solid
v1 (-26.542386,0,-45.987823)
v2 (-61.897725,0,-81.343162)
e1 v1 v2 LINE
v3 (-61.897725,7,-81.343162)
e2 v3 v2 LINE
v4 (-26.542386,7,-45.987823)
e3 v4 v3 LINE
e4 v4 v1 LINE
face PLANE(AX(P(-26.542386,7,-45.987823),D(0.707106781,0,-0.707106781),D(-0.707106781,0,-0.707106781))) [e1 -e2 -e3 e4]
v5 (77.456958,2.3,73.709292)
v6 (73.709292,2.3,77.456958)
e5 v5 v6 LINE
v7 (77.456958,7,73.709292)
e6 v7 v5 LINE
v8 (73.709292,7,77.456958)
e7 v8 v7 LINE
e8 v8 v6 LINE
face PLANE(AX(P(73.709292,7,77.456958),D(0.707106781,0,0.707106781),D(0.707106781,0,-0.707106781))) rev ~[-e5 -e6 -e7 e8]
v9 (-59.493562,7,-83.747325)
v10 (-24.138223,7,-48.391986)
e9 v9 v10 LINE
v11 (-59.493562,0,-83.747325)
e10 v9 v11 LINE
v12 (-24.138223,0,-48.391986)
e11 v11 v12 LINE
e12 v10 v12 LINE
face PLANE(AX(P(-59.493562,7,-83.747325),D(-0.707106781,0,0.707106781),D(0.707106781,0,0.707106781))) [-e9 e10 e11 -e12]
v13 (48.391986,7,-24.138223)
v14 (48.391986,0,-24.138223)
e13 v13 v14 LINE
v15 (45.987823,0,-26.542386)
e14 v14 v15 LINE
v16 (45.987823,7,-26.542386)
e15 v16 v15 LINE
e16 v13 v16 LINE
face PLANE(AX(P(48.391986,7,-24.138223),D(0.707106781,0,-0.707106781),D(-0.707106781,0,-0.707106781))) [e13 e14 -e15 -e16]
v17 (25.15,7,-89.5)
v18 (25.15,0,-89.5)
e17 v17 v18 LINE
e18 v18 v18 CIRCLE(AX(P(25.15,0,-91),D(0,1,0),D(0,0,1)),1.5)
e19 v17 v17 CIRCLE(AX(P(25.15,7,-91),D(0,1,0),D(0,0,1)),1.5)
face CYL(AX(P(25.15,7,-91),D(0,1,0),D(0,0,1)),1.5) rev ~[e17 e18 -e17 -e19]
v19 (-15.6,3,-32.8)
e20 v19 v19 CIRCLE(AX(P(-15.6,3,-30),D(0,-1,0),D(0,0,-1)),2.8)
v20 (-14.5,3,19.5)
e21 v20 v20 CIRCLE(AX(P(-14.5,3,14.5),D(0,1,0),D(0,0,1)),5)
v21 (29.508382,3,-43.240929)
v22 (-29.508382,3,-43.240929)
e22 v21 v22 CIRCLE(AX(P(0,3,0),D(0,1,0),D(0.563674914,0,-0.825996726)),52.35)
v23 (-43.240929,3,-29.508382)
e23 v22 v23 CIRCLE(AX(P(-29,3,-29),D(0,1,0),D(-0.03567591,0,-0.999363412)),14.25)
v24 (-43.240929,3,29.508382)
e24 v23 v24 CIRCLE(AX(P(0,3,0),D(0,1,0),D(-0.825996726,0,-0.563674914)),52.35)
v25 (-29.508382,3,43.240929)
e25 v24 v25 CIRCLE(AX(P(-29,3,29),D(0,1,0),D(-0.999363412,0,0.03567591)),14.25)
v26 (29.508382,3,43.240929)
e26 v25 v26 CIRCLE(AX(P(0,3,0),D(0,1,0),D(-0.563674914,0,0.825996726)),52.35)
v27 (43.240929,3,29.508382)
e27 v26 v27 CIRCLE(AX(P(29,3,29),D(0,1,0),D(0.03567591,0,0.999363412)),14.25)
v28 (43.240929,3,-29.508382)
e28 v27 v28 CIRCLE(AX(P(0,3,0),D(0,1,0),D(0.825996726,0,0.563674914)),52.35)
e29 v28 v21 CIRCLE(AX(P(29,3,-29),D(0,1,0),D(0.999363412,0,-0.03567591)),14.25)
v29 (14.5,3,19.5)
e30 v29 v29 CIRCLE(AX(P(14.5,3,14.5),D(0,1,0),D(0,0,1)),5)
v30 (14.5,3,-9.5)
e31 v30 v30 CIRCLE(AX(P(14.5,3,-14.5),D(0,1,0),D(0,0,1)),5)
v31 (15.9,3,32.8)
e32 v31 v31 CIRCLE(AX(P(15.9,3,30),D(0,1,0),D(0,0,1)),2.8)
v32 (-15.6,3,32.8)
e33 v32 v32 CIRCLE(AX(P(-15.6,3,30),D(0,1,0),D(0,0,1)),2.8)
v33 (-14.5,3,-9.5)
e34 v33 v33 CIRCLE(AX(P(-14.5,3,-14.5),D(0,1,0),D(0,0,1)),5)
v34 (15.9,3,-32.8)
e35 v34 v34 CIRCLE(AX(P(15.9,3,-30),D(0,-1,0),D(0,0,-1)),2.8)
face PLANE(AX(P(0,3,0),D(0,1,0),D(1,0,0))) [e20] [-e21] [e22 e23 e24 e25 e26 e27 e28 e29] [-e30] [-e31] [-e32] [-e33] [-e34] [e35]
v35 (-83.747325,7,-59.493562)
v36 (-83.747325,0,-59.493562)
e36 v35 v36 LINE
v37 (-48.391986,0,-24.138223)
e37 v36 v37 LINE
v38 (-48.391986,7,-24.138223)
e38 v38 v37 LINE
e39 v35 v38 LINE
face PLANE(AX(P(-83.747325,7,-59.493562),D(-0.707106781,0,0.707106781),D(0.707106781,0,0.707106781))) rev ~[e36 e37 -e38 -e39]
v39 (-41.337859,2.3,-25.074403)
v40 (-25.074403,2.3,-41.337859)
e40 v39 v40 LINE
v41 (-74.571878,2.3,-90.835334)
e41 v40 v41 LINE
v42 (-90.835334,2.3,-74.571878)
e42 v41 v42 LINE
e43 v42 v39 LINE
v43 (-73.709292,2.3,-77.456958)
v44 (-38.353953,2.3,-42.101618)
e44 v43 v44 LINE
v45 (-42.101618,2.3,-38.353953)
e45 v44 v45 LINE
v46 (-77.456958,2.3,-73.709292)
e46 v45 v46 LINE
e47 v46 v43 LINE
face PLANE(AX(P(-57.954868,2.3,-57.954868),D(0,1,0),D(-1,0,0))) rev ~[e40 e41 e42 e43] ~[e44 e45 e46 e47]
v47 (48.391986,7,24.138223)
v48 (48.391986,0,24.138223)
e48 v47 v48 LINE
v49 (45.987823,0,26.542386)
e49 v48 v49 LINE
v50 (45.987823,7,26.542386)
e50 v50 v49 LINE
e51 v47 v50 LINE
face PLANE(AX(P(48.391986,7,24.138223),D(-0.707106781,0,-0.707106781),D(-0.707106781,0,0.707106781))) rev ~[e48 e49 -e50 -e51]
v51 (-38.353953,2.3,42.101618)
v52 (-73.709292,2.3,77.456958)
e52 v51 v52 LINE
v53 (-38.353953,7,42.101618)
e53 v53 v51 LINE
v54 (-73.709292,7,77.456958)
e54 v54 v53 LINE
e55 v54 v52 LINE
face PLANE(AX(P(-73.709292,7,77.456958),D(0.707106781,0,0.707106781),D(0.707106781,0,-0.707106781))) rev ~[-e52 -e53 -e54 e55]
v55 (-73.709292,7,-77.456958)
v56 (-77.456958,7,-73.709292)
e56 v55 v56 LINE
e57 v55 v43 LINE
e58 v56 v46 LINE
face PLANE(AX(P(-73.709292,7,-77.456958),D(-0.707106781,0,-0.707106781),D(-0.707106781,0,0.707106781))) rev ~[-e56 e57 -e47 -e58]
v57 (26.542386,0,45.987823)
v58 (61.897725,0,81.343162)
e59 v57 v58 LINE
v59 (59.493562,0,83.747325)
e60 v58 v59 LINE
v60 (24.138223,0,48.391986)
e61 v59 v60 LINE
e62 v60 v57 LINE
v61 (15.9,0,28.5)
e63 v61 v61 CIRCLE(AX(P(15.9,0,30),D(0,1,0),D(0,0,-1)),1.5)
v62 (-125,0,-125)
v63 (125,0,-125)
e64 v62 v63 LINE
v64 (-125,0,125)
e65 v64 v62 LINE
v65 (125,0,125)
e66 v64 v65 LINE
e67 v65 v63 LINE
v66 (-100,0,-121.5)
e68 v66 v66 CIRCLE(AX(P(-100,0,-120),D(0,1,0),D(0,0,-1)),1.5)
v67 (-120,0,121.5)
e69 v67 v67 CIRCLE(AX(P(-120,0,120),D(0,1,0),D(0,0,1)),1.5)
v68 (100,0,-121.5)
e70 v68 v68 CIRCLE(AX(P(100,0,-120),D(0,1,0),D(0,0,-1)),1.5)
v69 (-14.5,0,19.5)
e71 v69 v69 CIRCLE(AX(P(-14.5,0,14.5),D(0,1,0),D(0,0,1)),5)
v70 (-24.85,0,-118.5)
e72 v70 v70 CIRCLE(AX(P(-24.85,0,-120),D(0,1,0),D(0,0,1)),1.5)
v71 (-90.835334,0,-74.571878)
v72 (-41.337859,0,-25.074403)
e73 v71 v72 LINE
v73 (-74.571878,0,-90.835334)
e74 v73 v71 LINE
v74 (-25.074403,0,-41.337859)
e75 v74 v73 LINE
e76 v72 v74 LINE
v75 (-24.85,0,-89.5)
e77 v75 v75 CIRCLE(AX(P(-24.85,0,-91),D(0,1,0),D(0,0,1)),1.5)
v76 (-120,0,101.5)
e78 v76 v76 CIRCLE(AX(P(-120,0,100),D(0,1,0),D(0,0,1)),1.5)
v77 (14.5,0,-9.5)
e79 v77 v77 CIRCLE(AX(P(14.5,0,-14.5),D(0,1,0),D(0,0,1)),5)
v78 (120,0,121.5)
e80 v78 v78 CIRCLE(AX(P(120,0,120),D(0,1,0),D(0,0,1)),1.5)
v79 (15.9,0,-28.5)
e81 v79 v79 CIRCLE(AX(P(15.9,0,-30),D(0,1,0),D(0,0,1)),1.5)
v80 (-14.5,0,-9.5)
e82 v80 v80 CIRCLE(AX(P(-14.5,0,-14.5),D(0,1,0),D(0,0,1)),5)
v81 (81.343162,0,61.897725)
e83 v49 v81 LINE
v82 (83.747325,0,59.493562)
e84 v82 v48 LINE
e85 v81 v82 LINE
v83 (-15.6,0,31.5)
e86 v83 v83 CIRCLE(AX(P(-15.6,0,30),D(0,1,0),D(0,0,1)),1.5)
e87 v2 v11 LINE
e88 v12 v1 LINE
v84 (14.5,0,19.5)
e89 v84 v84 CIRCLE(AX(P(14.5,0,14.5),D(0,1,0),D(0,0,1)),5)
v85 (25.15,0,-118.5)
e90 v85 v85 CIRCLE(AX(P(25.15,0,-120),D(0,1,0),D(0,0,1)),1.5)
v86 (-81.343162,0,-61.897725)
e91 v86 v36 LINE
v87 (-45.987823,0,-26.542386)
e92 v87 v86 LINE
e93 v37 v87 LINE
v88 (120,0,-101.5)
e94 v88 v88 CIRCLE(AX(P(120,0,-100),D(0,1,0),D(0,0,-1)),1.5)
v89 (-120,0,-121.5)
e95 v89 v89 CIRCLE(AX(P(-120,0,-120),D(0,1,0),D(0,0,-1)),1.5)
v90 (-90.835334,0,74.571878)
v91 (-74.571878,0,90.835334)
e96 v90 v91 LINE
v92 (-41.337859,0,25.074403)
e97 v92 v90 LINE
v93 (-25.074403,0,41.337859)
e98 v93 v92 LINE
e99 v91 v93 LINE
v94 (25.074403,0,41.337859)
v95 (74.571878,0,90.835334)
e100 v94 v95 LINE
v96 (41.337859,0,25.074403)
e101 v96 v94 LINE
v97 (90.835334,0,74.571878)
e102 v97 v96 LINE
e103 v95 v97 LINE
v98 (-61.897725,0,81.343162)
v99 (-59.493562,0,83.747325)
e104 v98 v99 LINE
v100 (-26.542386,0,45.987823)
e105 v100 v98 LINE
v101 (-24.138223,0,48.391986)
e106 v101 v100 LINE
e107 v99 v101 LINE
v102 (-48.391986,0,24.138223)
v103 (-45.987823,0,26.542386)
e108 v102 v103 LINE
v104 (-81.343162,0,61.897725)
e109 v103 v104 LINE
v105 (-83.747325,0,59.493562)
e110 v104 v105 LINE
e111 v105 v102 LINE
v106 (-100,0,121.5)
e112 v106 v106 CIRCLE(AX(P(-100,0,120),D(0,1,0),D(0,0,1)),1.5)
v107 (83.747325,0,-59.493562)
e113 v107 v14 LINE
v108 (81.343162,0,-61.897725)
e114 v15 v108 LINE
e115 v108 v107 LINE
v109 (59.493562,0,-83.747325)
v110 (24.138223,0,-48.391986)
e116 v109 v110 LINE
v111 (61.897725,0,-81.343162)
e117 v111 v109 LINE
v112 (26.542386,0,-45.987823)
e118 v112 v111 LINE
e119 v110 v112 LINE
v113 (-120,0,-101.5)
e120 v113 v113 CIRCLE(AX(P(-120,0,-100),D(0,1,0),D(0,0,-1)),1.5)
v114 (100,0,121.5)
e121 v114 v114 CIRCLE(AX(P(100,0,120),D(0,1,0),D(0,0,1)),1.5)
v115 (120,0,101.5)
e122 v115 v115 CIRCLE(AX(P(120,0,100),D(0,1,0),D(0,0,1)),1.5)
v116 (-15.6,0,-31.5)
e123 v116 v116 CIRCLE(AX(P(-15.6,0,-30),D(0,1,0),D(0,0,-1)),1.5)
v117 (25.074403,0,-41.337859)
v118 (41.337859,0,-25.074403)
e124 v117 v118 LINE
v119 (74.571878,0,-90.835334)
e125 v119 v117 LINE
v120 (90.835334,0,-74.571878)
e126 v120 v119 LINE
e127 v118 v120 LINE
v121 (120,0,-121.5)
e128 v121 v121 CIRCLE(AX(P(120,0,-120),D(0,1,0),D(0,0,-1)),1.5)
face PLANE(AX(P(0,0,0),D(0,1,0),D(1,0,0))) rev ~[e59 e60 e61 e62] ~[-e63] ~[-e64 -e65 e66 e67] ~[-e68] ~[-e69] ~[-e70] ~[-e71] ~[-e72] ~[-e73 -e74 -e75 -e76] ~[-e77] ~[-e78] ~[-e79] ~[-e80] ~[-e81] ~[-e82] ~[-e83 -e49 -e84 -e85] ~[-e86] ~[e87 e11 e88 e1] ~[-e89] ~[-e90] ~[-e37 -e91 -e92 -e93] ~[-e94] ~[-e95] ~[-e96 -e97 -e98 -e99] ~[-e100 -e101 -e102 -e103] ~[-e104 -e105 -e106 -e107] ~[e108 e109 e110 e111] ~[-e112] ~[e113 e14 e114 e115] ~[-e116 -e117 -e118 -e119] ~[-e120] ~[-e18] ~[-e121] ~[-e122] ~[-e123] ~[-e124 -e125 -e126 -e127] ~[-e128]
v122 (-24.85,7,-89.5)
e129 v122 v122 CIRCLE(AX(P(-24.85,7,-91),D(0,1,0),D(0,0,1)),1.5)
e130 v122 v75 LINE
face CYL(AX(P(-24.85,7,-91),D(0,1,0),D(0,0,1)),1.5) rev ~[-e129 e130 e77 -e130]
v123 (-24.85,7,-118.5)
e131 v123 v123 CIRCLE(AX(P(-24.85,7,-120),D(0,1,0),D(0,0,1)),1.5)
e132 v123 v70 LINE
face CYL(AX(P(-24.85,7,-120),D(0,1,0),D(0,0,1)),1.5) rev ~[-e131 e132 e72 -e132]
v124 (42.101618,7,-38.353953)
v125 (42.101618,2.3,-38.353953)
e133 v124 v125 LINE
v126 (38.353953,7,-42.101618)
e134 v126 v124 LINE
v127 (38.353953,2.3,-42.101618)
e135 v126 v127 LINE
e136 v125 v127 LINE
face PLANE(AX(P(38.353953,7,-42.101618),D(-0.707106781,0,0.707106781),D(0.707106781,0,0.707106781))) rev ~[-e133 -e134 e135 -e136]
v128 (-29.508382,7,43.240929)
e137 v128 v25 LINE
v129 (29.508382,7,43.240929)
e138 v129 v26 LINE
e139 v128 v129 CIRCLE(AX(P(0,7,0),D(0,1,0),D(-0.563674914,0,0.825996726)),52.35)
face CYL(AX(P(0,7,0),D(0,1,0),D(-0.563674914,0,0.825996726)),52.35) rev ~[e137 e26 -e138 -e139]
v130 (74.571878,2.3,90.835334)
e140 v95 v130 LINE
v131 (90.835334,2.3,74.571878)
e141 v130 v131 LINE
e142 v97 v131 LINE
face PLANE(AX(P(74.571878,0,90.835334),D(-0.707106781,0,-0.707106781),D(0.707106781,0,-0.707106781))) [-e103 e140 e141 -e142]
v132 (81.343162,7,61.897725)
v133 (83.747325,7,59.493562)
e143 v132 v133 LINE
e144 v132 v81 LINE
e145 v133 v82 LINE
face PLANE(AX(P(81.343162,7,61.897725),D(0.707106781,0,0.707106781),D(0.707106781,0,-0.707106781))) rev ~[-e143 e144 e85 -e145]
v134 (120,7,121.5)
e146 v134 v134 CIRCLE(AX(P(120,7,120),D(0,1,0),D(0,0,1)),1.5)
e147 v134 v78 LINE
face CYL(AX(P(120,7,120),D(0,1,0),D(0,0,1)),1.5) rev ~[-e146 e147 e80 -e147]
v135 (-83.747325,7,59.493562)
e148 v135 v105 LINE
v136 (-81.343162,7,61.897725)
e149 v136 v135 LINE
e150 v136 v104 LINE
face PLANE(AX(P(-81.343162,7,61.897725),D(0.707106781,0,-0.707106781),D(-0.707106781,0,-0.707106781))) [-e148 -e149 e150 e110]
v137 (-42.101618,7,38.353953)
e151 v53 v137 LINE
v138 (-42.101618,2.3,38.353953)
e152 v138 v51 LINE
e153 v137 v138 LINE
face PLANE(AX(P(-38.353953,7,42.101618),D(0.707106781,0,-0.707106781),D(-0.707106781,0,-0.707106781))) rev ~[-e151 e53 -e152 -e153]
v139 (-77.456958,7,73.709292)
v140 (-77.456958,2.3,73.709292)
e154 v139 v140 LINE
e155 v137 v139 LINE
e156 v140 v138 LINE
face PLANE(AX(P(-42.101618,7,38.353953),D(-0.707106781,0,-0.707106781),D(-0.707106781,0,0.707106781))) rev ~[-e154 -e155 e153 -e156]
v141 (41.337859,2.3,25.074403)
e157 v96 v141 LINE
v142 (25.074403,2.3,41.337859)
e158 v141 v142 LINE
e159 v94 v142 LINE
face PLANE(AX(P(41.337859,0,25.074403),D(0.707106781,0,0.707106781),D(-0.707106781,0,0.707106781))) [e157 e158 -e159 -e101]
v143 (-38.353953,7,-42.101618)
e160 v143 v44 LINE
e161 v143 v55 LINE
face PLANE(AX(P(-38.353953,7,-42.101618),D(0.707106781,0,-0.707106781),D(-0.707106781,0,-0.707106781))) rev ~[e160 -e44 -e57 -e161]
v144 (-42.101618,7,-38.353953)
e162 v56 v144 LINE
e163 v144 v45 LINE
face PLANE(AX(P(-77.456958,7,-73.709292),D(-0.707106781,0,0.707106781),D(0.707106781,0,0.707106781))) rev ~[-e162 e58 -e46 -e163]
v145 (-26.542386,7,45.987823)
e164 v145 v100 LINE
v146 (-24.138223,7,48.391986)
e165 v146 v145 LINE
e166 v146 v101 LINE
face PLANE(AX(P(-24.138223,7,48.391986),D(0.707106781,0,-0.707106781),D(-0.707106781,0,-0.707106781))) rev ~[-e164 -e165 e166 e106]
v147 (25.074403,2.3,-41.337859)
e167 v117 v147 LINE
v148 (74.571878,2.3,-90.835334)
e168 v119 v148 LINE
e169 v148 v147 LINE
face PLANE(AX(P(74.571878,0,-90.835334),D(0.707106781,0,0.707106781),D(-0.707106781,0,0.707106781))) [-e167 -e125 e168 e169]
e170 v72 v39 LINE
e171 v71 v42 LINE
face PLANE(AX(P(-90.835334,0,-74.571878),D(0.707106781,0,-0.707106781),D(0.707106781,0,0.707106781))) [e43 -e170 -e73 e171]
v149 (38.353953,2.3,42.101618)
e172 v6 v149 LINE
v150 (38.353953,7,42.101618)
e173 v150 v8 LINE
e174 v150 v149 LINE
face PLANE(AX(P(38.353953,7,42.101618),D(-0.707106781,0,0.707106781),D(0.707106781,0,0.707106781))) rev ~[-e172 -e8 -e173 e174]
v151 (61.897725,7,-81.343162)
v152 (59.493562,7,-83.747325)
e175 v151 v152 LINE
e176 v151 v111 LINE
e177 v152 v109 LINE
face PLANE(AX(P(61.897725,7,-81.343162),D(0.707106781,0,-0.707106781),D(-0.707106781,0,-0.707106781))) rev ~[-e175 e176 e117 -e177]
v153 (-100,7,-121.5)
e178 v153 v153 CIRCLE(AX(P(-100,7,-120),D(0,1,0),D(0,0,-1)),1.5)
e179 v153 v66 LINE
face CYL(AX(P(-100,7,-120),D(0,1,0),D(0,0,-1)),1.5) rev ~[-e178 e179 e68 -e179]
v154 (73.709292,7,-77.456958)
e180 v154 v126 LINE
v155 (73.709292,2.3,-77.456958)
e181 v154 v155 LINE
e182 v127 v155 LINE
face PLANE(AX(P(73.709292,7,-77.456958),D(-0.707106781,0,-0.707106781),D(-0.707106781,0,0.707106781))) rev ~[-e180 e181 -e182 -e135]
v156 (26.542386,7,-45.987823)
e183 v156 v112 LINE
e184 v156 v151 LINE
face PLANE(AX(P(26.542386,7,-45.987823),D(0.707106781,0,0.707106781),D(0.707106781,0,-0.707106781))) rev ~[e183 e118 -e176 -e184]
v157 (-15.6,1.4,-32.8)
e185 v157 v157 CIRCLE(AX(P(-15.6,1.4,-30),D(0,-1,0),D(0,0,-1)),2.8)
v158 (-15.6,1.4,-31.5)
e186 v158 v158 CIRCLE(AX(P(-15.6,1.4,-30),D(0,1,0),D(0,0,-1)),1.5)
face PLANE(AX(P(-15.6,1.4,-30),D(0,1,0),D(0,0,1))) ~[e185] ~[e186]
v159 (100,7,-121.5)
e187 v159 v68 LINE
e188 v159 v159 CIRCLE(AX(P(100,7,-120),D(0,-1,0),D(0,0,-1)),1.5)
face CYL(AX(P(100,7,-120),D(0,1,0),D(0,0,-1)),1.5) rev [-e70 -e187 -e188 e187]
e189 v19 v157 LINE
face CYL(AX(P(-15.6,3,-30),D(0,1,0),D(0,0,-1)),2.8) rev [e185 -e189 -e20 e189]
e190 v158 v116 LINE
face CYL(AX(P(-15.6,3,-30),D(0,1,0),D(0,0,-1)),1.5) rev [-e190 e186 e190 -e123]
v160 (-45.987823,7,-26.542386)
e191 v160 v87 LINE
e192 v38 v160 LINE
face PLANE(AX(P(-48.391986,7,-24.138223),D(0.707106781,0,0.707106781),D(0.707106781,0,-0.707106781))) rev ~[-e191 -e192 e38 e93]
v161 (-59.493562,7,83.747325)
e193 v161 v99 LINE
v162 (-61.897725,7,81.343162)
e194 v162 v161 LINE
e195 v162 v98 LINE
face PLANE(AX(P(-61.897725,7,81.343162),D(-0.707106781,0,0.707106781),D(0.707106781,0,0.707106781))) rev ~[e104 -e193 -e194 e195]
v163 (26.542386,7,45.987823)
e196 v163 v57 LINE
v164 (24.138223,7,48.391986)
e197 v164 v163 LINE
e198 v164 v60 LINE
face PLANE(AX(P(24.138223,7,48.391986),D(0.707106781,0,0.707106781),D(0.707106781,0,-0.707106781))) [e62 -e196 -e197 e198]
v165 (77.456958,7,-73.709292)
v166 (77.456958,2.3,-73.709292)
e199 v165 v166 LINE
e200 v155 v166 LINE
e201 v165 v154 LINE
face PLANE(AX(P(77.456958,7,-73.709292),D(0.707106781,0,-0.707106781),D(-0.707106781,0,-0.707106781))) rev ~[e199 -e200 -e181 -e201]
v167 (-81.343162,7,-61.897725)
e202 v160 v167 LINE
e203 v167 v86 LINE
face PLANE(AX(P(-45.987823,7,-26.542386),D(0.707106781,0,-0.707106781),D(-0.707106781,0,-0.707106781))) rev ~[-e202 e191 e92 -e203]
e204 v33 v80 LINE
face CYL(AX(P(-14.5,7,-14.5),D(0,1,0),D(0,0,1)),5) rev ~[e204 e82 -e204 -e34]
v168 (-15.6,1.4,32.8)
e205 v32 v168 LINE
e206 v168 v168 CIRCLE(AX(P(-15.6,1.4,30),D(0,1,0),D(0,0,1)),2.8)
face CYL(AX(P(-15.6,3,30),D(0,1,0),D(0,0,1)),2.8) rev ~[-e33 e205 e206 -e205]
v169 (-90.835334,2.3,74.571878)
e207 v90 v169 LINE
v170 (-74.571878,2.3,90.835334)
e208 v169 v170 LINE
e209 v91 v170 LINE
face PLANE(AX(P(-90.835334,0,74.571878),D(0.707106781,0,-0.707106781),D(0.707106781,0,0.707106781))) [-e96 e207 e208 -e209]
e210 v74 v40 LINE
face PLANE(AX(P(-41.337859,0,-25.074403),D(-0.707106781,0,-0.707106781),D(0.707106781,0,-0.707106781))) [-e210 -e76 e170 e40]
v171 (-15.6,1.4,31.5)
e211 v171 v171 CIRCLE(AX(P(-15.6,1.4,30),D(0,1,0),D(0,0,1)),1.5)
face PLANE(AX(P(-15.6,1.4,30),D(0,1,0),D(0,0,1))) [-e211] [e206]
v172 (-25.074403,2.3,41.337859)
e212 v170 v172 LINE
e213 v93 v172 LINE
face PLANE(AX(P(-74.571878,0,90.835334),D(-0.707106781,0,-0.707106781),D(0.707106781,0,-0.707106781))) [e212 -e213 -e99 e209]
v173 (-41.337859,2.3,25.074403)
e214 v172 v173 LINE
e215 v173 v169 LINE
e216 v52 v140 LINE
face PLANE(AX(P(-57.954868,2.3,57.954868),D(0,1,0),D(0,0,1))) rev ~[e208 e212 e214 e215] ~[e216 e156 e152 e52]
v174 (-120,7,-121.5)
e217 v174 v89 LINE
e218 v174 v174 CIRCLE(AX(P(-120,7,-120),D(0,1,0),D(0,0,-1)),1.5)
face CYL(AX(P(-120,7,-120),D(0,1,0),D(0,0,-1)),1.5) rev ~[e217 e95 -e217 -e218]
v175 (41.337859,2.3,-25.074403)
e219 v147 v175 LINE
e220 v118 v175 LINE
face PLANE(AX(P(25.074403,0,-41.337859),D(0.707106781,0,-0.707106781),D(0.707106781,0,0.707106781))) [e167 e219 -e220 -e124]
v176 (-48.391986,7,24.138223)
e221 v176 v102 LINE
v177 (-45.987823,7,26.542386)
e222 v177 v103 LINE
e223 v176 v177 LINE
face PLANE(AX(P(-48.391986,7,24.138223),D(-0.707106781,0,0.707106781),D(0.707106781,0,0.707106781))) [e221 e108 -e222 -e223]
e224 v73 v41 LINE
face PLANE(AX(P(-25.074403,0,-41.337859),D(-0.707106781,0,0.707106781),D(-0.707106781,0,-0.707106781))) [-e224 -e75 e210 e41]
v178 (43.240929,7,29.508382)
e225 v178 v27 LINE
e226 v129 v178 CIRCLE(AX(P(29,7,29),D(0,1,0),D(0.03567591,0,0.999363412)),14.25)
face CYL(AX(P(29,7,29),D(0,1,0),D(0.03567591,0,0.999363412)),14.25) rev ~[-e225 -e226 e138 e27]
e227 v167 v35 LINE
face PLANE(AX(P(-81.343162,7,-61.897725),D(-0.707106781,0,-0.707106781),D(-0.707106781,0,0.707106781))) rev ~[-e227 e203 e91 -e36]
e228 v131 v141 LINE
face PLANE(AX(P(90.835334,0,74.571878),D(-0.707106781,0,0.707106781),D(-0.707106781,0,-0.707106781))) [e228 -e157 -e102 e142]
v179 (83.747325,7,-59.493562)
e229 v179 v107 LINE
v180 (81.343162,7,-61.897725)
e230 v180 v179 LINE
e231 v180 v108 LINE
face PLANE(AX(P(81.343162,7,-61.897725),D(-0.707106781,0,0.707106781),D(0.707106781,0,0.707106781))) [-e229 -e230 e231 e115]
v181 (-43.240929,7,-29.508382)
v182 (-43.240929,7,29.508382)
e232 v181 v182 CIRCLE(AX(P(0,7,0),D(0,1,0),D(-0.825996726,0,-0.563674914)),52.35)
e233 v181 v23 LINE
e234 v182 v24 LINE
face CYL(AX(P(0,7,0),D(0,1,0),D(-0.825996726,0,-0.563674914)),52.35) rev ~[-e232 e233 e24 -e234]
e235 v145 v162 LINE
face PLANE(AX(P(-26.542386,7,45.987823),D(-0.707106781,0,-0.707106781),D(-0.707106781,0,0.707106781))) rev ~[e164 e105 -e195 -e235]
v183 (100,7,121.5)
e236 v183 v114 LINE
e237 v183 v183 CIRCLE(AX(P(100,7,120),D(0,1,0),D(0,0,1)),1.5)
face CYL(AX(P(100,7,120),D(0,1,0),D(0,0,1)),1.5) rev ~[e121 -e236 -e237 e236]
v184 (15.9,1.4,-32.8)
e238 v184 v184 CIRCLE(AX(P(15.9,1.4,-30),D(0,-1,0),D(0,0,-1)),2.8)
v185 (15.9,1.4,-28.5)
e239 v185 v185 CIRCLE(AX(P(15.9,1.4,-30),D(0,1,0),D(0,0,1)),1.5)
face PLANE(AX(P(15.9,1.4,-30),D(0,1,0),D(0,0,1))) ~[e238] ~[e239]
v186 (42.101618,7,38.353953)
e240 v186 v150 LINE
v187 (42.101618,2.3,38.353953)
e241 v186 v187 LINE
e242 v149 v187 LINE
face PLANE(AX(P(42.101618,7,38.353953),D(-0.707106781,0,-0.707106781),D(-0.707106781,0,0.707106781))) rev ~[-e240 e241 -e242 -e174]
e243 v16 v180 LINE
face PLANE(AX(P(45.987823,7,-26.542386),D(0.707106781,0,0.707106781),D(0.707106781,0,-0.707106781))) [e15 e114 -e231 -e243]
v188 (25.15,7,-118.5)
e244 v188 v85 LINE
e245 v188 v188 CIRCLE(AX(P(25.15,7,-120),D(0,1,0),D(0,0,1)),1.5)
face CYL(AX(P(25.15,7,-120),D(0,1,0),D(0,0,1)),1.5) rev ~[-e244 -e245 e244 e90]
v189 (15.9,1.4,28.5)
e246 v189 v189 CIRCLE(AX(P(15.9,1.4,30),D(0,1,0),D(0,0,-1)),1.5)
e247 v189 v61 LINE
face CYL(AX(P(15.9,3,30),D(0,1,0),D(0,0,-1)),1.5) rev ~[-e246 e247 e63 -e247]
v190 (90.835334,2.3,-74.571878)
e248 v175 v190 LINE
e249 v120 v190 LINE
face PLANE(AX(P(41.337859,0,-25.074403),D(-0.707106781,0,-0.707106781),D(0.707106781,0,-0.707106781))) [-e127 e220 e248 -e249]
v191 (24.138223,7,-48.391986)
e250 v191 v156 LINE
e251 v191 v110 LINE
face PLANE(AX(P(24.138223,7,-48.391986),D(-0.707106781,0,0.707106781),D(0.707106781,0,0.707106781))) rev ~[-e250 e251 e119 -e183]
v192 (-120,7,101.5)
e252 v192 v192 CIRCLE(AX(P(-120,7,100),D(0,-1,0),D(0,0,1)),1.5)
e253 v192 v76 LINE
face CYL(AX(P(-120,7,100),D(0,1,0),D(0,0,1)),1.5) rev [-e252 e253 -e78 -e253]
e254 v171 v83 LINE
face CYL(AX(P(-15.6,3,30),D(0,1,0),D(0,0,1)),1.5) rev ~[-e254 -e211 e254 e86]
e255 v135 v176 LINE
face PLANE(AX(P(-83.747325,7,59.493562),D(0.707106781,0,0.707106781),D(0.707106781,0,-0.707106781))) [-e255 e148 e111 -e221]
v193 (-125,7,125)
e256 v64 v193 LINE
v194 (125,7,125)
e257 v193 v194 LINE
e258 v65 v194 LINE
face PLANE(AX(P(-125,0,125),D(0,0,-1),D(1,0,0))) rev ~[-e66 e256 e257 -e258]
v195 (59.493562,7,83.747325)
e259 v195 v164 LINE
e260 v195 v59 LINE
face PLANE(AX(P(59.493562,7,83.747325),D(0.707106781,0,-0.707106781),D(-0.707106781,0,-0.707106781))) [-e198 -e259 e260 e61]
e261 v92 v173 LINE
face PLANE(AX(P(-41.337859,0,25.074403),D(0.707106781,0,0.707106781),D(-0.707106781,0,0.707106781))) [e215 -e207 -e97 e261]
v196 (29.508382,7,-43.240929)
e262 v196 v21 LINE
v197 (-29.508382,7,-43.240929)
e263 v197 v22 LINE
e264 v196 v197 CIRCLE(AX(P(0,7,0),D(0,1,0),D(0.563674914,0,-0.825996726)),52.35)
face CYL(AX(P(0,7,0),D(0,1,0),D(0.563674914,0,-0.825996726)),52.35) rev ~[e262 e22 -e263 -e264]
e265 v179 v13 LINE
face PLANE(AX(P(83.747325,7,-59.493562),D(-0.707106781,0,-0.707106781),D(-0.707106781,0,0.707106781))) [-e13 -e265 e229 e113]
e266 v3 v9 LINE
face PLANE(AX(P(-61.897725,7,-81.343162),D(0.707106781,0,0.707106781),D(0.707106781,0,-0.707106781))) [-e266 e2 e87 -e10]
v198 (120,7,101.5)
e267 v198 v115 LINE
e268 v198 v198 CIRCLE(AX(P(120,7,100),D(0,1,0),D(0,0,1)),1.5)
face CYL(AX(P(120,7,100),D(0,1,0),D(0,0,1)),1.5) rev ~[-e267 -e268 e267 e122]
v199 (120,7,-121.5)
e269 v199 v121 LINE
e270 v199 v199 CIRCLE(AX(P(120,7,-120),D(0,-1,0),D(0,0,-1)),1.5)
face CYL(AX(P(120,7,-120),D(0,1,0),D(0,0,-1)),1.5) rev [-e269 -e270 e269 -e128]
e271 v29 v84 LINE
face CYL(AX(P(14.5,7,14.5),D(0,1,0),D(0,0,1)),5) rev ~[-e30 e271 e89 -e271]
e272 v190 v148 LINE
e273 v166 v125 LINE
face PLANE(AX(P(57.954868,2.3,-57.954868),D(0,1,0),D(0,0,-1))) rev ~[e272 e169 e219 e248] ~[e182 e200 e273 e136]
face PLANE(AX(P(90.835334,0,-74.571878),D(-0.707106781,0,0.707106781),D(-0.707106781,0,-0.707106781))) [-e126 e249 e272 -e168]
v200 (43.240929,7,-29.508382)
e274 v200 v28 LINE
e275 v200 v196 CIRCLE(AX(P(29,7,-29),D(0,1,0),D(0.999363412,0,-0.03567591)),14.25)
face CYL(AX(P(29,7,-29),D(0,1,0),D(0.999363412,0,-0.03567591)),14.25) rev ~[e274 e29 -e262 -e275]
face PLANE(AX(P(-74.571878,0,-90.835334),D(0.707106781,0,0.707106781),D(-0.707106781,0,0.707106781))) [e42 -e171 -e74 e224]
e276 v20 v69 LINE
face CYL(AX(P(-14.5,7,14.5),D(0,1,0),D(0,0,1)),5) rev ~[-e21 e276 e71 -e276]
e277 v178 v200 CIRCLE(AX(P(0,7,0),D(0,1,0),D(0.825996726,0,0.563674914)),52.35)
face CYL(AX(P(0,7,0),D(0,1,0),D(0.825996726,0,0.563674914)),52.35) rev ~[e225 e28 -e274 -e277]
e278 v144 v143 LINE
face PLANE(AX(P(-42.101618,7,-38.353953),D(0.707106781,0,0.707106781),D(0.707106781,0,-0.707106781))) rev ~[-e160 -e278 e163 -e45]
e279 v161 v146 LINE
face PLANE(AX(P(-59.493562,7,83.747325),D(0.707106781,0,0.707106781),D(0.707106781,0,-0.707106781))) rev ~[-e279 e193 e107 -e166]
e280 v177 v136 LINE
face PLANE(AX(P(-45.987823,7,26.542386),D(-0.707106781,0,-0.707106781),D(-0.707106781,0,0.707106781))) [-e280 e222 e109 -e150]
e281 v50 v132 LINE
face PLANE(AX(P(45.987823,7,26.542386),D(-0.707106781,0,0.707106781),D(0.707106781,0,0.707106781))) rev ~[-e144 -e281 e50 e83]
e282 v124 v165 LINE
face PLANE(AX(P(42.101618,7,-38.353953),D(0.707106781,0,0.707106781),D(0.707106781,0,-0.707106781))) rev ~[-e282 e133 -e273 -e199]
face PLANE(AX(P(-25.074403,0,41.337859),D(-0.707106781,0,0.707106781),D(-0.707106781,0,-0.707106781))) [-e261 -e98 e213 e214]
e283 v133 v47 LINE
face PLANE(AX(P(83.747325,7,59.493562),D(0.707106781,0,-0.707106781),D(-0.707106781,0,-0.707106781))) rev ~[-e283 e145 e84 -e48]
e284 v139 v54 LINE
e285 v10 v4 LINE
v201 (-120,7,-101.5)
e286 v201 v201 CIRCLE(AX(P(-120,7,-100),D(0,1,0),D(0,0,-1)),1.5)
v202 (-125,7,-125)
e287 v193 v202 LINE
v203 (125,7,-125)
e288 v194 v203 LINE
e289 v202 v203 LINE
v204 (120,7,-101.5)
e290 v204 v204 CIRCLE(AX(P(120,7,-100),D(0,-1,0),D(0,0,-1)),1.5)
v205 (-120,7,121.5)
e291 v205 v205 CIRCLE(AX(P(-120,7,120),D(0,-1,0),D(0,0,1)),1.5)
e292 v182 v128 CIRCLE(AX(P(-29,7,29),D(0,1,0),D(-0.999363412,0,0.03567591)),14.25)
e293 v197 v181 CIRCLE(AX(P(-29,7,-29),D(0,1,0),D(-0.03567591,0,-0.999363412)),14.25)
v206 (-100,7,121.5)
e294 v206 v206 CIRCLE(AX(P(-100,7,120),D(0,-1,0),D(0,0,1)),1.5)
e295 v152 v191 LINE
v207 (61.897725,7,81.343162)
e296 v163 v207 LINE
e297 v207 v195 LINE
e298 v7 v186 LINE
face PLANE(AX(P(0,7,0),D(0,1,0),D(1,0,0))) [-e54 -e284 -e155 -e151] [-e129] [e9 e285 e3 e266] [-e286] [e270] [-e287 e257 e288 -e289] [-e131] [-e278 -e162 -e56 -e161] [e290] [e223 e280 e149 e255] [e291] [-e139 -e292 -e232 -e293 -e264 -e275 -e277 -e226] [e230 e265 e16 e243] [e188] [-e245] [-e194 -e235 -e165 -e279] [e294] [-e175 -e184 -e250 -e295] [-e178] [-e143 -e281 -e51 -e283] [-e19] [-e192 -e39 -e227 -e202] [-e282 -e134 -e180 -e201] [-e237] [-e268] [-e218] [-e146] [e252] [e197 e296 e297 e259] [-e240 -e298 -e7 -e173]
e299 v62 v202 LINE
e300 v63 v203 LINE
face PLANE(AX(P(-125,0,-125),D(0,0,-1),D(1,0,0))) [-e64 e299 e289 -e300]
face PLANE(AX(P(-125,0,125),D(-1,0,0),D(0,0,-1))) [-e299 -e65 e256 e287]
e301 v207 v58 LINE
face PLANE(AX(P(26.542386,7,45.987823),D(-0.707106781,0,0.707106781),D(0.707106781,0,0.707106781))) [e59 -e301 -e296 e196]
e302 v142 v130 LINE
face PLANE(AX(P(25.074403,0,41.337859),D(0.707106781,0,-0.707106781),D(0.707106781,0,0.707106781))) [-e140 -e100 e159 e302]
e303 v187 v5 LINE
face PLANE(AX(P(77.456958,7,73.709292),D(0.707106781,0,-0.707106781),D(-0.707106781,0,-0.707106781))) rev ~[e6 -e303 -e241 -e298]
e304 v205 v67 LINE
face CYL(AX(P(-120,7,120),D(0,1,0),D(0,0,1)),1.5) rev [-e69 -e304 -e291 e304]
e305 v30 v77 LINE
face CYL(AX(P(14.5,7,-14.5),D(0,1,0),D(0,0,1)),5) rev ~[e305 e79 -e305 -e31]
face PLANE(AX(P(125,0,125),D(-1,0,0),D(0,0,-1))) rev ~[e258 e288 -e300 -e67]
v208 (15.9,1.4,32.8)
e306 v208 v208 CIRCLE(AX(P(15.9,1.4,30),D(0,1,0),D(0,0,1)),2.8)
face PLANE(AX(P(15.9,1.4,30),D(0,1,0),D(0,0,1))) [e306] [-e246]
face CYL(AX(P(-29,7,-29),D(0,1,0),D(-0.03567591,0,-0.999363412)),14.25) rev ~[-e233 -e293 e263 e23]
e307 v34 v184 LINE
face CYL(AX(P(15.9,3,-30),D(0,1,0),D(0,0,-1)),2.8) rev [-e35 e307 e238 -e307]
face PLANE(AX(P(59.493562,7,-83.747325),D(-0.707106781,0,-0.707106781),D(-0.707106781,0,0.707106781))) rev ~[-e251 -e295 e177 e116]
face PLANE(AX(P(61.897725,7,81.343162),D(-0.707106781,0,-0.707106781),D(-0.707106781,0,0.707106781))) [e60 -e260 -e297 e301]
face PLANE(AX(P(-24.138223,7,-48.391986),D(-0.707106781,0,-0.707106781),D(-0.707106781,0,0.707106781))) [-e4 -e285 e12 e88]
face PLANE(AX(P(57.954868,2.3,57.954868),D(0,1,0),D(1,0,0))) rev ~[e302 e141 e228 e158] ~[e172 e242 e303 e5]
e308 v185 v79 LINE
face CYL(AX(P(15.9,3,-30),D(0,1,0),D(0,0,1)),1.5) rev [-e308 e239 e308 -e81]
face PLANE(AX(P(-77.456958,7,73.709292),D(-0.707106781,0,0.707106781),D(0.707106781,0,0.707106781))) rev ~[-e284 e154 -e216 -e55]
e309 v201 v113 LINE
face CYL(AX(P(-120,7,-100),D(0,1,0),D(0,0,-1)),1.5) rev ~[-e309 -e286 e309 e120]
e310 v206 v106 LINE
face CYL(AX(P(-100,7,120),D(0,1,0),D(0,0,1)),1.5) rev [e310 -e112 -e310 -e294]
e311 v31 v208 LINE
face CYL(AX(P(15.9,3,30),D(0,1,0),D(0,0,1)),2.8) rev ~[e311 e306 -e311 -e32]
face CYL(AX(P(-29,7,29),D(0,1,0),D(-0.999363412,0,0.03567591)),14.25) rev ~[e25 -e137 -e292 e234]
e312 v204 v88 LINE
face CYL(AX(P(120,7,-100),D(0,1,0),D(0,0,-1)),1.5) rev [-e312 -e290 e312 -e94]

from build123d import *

# Parameters (mm, degrees)
SKETCH1_W               = 250
SKETCH1_H               = 250
BOSS_EXTRUDE1_DEPTH     = 7
CUT_EXTRUDE2_DEPTH      = 4
CUT_EXTRUDE3_DEPTH      = 177.91523394
CUT_EXTRUDE4_DEPTH      = 177.91523394
CUT_EXTRUDE5_DEPTH      = 2.3
CIRPATTERN1_COUNT       = 4
SKETCH8_R               = 5
CUT_EXTRUDE6_DEPTH      = 177.91523394
SKETCH9_R               = 1.5
CUT_EXTRUDE7_DEPTH      = 177.821944339
SKETCH10_R              = 2.8
CUT_EXTRUDE8_DEPTH      = 1.6
SKETCH13_R              = 1.5
CUT_EXTRUDE11_DEPTH     = 177.91523394
LPATTERN1_COUNT         = 2
LPATTERN1_PITCH         = 50
LPATTERN1_COUNT_DIR2    = 2
LPATTERN1_PITCH_DIR2    = 29
SKETCH14_R              = 1.5
CUT_EXTRUDE12_DEPTH     = 10
MIRROR3_COPY_1_SKETCH_R = 1.5
MIRROR3_COPY_1_DEPTH    = 10


with BuildPart() as part:
    # Sketch1 → Boss-Extrude1 (new body)
    with BuildSketch(Plane(origin=(0, 0, 0), x_dir=(1, 0, 0), z_dir=(0, 1, 0))):
        Rectangle(SKETCH1_W, SKETCH1_H)
    extrude(amount=BOSS_EXTRUDE1_DEPTH)

    # Sketch4 → Cut-Extrude2 (cut)
    with BuildSketch(Plane(origin=(0, 7, 0), x_dir=(1, 0, 0), z_dir=(0, 1, 0))):
        with BuildLine():
            ThreePointArc((-29.508381723, 43.240928622), (-39.076271632, 39.076271632), (-43.240928622, 29.508381723))
            ThreePointArc((-43.240928622, 29.508381723), (-52.35, 0), (-43.240928622, -29.508381723))
            ThreePointArc((-43.240928622, -29.508381723), (-39.076271632, -39.076271632), (-29.508381723, -43.240928622))
            ThreePointArc((-29.508381723, -43.240928622), (0, -52.35), (29.508381723, -43.240928622))
            ThreePointArc((29.508381723, -43.240928622), (39.076271632, -39.076271632), (43.240928622, -29.508381723))
            ThreePointArc((43.240928622, -29.508381723), (52.35, 0), (43.240928622, 29.508381723))
            ThreePointArc((43.240928622, 29.508381723), (39.076271632, 39.076271632), (29.508381723, 43.240928622))
            ThreePointArc((29.508381723, 43.240928622), (0, 52.35), (-29.508381723, 43.240928622))
        make_face()
    extrude(amount=-CUT_EXTRUDE2_DEPTH, mode=Mode.SUBTRACT)

    # Sketch5 → Cut-Extrude3 (cut, through all)
    with BuildSketch(Plane(origin=(0, 7, 0), x_dir=(1, 0, 0), z_dir=(0, 1, 0))):
        Polygon((-40.2277855, 40.2277855), (-38.35395253, 42.10161847), (-73.709291589, 77.456957529), (-77.456957529, 73.709291589), (-42.10161847, 38.35395253), align=None)
    cut_extrude3 = extrude(amount=-CUT_EXTRUDE3_DEPTH, mode=Mode.SUBTRACT)

    # Sketch6 → Cut-Extrude4 (cut, through all)
    with BuildSketch(Plane(origin=(0, 7, 0), x_dir=(1, 0, 0), z_dir=(0, 1, 0))):
        Polygon((-26.542386103, 45.987822586), (-61.897725163, 81.343161645), (-59.493562107, 83.747324701), (-24.138223047, 48.391985642), align=None)
        Polygon((-81.343161645, 61.897725163), (-83.747324701, 59.493562107), (-48.391985642, 24.138223047), (-45.987822586, 26.542386103), align=None)
    cut_extrude4 = extrude(amount=-CUT_EXTRUDE4_DEPTH, mode=Mode.SUBTRACT)

    # Sketch7 → Cut-Extrude5 (cut)
    with BuildSketch(Plane.XZ):
        Polygon((-90.835333565, -74.571877598), (-41.337858882, -25.074402915), (-25.074402915, -41.337858882), (-74.571877598, -90.835333565), align=None)
    cut_extrude5 = extrude(amount=-CUT_EXTRUDE5_DEPTH, mode=Mode.SUBTRACT)

    # CirPattern1: Cut-Extrude3, Cut-Extrude4, Cut-Extrude5 ×4 about axis
    cirpattern1_axis = Axis((0, 0, 0), (0, 1, 0))
    add([cut_extrude3.rotate(cirpattern1_axis, i * 360 / CIRPATTERN1_COUNT) for i in range(1, CIRPATTERN1_COUNT)], mode=Mode.SUBTRACT)
    add([cut_extrude4.rotate(cirpattern1_axis, i * 360 / CIRPATTERN1_COUNT) for i in range(1, CIRPATTERN1_COUNT)], mode=Mode.SUBTRACT)
    add([cut_extrude5.rotate(cirpattern1_axis, i * 360 / CIRPATTERN1_COUNT) for i in range(1, CIRPATTERN1_COUNT)], mode=Mode.SUBTRACT)

    # Sketch8 → Cut-Extrude6 (cut, through all)
    with BuildSketch(Plane(origin=(0, 7, 0), x_dir=(1, 0, 0), z_dir=(0, 1, 0))):
        with Locations(Location((14.5, 14.5, 0), (0, 0, 270))):
            Circle(SKETCH8_R)
        with Locations(Location((-14.5, 14.5, 0), (0, 0, 270))):
            Circle(SKETCH8_R)
        with Locations(Location((-14.5, -14.5, 0), (0, 0, 270))):
            Circle(SKETCH8_R)
        with Locations(Location((14.5, -14.5, 0), (0, 0, 270))):
            Circle(SKETCH8_R)
    extrude(amount=-CUT_EXTRUDE6_DEPTH, mode=Mode.SUBTRACT)

    # Sketch9 → Cut-Extrude7 (cut, through all)
    with BuildSketch(Plane(origin=(0, 3, 0), x_dir=(1, 0, 0), z_dir=(0, 1, 0))):
        with Locations(Location((-15.6, -30, 0), (0, 0, 270))):
            Circle(SKETCH9_R)
        with Locations(Location((15.9, -30, 0), (0, 0, 90))):
            Circle(SKETCH9_R)
    cut_extrude7 = extrude(amount=-CUT_EXTRUDE7_DEPTH, mode=Mode.SUBTRACT)

    # Sketch10 → Cut-Extrude8 (cut)
    with BuildSketch(Plane(origin=(0, 3, 0), x_dir=(1, 0, 0), z_dir=(0, 1, 0))):
        with Locations(Location((-15.6, -30, 0), (0, 0, 270))):
            Circle(SKETCH10_R)
        with Locations(Location((15.9, -30, 0), (0, 0, 270))):
            Circle(SKETCH10_R)
    cut_extrude8 = extrude(amount=-CUT_EXTRUDE8_DEPTH, mode=Mode.SUBTRACT)

    # Sketch13 → Cut-Extrude11 (cut, through all)
    with BuildSketch(Plane(origin=(0, 7, 0), x_dir=(1, 0, 0), z_dir=(0, 1, 0))):
        with Locations(Location((25.15, 120, 0), (0, 0, 270))):
            Circle(SKETCH13_R)
    cut_extrude11 = extrude(amount=-CUT_EXTRUDE11_DEPTH, mode=Mode.SUBTRACT)

    # LPattern1: Cut-Extrude11 2 × 2
    with Locations(*[(-i * LPATTERN1_PITCH, 0, j * LPATTERN1_PITCH_DIR2) for i in range(LPATTERN1_COUNT) for j in range(LPATTERN1_COUNT_DIR2) if (i, j) != (0, 0)]):
        add(cut_extrude11, mode=Mode.SUBTRACT)

    # Mirror1: Cut-Extrude7, Cut-Extrude8 across plane
    add(cut_extrude7.mirror(Plane.XY), mode=Mode.SUBTRACT)
    add(cut_extrude8.mirror(Plane.XY), mode=Mode.SUBTRACT)

    # Sketch14 → Cut-Extrude12 (cut)
    with BuildSketch(Plane(origin=(0, 7, 0), x_dir=(1, 0, 0), z_dir=(0, 1, 0))):
        with Locations(Location((120, -100, 0), (0, 0, 270))):
            Circle(SKETCH14_R)
        with Locations(Location((120, -120, 0), (0, 0, 270))):
            Circle(SKETCH14_R)
        with Locations(Location((100, -120, 0), (0, 0, 270))):
            Circle(SKETCH14_R)
    cut_extrude12 = extrude(amount=-CUT_EXTRUDE12_DEPTH, mode=Mode.SUBTRACT)

    # Mirror2: Cut-Extrude12 across plane
    add(cut_extrude12.mirror(Plane(origin=(0, 0, 0), x_dir=(0, 0, 1), z_dir=(1, 0, 0))), mode=Mode.SUBTRACT)

    # Mirror3: Cut-Extrude12 across plane
    add(cut_extrude12.mirror(Plane.XY), mode=Mode.SUBTRACT)

    # Mirror3 copy 1 sketch → Mirror3 copy 1 (cut)
    with BuildSketch(Plane(origin=(0, 7, 0), x_dir=(-1, 0, 0), z_dir=(0, 1, 0))):
        with Locations(Location((120, -100, 0), (0, 0, 270))):
            Circle(MIRROR3_COPY_1_SKETCH_R)
        with Locations(Location((120, -120, 0), (0, 0, 270))):
            Circle(MIRROR3_COPY_1_SKETCH_R)
        with Locations(Location((100, -120, 0), (0, 0, 270))):
            Circle(MIRROR3_COPY_1_SKETCH_R)
    extrude(amount=-MIRROR3_COPY_1_DEPTH, mode=Mode.SUBTRACT)


solid = part.part
